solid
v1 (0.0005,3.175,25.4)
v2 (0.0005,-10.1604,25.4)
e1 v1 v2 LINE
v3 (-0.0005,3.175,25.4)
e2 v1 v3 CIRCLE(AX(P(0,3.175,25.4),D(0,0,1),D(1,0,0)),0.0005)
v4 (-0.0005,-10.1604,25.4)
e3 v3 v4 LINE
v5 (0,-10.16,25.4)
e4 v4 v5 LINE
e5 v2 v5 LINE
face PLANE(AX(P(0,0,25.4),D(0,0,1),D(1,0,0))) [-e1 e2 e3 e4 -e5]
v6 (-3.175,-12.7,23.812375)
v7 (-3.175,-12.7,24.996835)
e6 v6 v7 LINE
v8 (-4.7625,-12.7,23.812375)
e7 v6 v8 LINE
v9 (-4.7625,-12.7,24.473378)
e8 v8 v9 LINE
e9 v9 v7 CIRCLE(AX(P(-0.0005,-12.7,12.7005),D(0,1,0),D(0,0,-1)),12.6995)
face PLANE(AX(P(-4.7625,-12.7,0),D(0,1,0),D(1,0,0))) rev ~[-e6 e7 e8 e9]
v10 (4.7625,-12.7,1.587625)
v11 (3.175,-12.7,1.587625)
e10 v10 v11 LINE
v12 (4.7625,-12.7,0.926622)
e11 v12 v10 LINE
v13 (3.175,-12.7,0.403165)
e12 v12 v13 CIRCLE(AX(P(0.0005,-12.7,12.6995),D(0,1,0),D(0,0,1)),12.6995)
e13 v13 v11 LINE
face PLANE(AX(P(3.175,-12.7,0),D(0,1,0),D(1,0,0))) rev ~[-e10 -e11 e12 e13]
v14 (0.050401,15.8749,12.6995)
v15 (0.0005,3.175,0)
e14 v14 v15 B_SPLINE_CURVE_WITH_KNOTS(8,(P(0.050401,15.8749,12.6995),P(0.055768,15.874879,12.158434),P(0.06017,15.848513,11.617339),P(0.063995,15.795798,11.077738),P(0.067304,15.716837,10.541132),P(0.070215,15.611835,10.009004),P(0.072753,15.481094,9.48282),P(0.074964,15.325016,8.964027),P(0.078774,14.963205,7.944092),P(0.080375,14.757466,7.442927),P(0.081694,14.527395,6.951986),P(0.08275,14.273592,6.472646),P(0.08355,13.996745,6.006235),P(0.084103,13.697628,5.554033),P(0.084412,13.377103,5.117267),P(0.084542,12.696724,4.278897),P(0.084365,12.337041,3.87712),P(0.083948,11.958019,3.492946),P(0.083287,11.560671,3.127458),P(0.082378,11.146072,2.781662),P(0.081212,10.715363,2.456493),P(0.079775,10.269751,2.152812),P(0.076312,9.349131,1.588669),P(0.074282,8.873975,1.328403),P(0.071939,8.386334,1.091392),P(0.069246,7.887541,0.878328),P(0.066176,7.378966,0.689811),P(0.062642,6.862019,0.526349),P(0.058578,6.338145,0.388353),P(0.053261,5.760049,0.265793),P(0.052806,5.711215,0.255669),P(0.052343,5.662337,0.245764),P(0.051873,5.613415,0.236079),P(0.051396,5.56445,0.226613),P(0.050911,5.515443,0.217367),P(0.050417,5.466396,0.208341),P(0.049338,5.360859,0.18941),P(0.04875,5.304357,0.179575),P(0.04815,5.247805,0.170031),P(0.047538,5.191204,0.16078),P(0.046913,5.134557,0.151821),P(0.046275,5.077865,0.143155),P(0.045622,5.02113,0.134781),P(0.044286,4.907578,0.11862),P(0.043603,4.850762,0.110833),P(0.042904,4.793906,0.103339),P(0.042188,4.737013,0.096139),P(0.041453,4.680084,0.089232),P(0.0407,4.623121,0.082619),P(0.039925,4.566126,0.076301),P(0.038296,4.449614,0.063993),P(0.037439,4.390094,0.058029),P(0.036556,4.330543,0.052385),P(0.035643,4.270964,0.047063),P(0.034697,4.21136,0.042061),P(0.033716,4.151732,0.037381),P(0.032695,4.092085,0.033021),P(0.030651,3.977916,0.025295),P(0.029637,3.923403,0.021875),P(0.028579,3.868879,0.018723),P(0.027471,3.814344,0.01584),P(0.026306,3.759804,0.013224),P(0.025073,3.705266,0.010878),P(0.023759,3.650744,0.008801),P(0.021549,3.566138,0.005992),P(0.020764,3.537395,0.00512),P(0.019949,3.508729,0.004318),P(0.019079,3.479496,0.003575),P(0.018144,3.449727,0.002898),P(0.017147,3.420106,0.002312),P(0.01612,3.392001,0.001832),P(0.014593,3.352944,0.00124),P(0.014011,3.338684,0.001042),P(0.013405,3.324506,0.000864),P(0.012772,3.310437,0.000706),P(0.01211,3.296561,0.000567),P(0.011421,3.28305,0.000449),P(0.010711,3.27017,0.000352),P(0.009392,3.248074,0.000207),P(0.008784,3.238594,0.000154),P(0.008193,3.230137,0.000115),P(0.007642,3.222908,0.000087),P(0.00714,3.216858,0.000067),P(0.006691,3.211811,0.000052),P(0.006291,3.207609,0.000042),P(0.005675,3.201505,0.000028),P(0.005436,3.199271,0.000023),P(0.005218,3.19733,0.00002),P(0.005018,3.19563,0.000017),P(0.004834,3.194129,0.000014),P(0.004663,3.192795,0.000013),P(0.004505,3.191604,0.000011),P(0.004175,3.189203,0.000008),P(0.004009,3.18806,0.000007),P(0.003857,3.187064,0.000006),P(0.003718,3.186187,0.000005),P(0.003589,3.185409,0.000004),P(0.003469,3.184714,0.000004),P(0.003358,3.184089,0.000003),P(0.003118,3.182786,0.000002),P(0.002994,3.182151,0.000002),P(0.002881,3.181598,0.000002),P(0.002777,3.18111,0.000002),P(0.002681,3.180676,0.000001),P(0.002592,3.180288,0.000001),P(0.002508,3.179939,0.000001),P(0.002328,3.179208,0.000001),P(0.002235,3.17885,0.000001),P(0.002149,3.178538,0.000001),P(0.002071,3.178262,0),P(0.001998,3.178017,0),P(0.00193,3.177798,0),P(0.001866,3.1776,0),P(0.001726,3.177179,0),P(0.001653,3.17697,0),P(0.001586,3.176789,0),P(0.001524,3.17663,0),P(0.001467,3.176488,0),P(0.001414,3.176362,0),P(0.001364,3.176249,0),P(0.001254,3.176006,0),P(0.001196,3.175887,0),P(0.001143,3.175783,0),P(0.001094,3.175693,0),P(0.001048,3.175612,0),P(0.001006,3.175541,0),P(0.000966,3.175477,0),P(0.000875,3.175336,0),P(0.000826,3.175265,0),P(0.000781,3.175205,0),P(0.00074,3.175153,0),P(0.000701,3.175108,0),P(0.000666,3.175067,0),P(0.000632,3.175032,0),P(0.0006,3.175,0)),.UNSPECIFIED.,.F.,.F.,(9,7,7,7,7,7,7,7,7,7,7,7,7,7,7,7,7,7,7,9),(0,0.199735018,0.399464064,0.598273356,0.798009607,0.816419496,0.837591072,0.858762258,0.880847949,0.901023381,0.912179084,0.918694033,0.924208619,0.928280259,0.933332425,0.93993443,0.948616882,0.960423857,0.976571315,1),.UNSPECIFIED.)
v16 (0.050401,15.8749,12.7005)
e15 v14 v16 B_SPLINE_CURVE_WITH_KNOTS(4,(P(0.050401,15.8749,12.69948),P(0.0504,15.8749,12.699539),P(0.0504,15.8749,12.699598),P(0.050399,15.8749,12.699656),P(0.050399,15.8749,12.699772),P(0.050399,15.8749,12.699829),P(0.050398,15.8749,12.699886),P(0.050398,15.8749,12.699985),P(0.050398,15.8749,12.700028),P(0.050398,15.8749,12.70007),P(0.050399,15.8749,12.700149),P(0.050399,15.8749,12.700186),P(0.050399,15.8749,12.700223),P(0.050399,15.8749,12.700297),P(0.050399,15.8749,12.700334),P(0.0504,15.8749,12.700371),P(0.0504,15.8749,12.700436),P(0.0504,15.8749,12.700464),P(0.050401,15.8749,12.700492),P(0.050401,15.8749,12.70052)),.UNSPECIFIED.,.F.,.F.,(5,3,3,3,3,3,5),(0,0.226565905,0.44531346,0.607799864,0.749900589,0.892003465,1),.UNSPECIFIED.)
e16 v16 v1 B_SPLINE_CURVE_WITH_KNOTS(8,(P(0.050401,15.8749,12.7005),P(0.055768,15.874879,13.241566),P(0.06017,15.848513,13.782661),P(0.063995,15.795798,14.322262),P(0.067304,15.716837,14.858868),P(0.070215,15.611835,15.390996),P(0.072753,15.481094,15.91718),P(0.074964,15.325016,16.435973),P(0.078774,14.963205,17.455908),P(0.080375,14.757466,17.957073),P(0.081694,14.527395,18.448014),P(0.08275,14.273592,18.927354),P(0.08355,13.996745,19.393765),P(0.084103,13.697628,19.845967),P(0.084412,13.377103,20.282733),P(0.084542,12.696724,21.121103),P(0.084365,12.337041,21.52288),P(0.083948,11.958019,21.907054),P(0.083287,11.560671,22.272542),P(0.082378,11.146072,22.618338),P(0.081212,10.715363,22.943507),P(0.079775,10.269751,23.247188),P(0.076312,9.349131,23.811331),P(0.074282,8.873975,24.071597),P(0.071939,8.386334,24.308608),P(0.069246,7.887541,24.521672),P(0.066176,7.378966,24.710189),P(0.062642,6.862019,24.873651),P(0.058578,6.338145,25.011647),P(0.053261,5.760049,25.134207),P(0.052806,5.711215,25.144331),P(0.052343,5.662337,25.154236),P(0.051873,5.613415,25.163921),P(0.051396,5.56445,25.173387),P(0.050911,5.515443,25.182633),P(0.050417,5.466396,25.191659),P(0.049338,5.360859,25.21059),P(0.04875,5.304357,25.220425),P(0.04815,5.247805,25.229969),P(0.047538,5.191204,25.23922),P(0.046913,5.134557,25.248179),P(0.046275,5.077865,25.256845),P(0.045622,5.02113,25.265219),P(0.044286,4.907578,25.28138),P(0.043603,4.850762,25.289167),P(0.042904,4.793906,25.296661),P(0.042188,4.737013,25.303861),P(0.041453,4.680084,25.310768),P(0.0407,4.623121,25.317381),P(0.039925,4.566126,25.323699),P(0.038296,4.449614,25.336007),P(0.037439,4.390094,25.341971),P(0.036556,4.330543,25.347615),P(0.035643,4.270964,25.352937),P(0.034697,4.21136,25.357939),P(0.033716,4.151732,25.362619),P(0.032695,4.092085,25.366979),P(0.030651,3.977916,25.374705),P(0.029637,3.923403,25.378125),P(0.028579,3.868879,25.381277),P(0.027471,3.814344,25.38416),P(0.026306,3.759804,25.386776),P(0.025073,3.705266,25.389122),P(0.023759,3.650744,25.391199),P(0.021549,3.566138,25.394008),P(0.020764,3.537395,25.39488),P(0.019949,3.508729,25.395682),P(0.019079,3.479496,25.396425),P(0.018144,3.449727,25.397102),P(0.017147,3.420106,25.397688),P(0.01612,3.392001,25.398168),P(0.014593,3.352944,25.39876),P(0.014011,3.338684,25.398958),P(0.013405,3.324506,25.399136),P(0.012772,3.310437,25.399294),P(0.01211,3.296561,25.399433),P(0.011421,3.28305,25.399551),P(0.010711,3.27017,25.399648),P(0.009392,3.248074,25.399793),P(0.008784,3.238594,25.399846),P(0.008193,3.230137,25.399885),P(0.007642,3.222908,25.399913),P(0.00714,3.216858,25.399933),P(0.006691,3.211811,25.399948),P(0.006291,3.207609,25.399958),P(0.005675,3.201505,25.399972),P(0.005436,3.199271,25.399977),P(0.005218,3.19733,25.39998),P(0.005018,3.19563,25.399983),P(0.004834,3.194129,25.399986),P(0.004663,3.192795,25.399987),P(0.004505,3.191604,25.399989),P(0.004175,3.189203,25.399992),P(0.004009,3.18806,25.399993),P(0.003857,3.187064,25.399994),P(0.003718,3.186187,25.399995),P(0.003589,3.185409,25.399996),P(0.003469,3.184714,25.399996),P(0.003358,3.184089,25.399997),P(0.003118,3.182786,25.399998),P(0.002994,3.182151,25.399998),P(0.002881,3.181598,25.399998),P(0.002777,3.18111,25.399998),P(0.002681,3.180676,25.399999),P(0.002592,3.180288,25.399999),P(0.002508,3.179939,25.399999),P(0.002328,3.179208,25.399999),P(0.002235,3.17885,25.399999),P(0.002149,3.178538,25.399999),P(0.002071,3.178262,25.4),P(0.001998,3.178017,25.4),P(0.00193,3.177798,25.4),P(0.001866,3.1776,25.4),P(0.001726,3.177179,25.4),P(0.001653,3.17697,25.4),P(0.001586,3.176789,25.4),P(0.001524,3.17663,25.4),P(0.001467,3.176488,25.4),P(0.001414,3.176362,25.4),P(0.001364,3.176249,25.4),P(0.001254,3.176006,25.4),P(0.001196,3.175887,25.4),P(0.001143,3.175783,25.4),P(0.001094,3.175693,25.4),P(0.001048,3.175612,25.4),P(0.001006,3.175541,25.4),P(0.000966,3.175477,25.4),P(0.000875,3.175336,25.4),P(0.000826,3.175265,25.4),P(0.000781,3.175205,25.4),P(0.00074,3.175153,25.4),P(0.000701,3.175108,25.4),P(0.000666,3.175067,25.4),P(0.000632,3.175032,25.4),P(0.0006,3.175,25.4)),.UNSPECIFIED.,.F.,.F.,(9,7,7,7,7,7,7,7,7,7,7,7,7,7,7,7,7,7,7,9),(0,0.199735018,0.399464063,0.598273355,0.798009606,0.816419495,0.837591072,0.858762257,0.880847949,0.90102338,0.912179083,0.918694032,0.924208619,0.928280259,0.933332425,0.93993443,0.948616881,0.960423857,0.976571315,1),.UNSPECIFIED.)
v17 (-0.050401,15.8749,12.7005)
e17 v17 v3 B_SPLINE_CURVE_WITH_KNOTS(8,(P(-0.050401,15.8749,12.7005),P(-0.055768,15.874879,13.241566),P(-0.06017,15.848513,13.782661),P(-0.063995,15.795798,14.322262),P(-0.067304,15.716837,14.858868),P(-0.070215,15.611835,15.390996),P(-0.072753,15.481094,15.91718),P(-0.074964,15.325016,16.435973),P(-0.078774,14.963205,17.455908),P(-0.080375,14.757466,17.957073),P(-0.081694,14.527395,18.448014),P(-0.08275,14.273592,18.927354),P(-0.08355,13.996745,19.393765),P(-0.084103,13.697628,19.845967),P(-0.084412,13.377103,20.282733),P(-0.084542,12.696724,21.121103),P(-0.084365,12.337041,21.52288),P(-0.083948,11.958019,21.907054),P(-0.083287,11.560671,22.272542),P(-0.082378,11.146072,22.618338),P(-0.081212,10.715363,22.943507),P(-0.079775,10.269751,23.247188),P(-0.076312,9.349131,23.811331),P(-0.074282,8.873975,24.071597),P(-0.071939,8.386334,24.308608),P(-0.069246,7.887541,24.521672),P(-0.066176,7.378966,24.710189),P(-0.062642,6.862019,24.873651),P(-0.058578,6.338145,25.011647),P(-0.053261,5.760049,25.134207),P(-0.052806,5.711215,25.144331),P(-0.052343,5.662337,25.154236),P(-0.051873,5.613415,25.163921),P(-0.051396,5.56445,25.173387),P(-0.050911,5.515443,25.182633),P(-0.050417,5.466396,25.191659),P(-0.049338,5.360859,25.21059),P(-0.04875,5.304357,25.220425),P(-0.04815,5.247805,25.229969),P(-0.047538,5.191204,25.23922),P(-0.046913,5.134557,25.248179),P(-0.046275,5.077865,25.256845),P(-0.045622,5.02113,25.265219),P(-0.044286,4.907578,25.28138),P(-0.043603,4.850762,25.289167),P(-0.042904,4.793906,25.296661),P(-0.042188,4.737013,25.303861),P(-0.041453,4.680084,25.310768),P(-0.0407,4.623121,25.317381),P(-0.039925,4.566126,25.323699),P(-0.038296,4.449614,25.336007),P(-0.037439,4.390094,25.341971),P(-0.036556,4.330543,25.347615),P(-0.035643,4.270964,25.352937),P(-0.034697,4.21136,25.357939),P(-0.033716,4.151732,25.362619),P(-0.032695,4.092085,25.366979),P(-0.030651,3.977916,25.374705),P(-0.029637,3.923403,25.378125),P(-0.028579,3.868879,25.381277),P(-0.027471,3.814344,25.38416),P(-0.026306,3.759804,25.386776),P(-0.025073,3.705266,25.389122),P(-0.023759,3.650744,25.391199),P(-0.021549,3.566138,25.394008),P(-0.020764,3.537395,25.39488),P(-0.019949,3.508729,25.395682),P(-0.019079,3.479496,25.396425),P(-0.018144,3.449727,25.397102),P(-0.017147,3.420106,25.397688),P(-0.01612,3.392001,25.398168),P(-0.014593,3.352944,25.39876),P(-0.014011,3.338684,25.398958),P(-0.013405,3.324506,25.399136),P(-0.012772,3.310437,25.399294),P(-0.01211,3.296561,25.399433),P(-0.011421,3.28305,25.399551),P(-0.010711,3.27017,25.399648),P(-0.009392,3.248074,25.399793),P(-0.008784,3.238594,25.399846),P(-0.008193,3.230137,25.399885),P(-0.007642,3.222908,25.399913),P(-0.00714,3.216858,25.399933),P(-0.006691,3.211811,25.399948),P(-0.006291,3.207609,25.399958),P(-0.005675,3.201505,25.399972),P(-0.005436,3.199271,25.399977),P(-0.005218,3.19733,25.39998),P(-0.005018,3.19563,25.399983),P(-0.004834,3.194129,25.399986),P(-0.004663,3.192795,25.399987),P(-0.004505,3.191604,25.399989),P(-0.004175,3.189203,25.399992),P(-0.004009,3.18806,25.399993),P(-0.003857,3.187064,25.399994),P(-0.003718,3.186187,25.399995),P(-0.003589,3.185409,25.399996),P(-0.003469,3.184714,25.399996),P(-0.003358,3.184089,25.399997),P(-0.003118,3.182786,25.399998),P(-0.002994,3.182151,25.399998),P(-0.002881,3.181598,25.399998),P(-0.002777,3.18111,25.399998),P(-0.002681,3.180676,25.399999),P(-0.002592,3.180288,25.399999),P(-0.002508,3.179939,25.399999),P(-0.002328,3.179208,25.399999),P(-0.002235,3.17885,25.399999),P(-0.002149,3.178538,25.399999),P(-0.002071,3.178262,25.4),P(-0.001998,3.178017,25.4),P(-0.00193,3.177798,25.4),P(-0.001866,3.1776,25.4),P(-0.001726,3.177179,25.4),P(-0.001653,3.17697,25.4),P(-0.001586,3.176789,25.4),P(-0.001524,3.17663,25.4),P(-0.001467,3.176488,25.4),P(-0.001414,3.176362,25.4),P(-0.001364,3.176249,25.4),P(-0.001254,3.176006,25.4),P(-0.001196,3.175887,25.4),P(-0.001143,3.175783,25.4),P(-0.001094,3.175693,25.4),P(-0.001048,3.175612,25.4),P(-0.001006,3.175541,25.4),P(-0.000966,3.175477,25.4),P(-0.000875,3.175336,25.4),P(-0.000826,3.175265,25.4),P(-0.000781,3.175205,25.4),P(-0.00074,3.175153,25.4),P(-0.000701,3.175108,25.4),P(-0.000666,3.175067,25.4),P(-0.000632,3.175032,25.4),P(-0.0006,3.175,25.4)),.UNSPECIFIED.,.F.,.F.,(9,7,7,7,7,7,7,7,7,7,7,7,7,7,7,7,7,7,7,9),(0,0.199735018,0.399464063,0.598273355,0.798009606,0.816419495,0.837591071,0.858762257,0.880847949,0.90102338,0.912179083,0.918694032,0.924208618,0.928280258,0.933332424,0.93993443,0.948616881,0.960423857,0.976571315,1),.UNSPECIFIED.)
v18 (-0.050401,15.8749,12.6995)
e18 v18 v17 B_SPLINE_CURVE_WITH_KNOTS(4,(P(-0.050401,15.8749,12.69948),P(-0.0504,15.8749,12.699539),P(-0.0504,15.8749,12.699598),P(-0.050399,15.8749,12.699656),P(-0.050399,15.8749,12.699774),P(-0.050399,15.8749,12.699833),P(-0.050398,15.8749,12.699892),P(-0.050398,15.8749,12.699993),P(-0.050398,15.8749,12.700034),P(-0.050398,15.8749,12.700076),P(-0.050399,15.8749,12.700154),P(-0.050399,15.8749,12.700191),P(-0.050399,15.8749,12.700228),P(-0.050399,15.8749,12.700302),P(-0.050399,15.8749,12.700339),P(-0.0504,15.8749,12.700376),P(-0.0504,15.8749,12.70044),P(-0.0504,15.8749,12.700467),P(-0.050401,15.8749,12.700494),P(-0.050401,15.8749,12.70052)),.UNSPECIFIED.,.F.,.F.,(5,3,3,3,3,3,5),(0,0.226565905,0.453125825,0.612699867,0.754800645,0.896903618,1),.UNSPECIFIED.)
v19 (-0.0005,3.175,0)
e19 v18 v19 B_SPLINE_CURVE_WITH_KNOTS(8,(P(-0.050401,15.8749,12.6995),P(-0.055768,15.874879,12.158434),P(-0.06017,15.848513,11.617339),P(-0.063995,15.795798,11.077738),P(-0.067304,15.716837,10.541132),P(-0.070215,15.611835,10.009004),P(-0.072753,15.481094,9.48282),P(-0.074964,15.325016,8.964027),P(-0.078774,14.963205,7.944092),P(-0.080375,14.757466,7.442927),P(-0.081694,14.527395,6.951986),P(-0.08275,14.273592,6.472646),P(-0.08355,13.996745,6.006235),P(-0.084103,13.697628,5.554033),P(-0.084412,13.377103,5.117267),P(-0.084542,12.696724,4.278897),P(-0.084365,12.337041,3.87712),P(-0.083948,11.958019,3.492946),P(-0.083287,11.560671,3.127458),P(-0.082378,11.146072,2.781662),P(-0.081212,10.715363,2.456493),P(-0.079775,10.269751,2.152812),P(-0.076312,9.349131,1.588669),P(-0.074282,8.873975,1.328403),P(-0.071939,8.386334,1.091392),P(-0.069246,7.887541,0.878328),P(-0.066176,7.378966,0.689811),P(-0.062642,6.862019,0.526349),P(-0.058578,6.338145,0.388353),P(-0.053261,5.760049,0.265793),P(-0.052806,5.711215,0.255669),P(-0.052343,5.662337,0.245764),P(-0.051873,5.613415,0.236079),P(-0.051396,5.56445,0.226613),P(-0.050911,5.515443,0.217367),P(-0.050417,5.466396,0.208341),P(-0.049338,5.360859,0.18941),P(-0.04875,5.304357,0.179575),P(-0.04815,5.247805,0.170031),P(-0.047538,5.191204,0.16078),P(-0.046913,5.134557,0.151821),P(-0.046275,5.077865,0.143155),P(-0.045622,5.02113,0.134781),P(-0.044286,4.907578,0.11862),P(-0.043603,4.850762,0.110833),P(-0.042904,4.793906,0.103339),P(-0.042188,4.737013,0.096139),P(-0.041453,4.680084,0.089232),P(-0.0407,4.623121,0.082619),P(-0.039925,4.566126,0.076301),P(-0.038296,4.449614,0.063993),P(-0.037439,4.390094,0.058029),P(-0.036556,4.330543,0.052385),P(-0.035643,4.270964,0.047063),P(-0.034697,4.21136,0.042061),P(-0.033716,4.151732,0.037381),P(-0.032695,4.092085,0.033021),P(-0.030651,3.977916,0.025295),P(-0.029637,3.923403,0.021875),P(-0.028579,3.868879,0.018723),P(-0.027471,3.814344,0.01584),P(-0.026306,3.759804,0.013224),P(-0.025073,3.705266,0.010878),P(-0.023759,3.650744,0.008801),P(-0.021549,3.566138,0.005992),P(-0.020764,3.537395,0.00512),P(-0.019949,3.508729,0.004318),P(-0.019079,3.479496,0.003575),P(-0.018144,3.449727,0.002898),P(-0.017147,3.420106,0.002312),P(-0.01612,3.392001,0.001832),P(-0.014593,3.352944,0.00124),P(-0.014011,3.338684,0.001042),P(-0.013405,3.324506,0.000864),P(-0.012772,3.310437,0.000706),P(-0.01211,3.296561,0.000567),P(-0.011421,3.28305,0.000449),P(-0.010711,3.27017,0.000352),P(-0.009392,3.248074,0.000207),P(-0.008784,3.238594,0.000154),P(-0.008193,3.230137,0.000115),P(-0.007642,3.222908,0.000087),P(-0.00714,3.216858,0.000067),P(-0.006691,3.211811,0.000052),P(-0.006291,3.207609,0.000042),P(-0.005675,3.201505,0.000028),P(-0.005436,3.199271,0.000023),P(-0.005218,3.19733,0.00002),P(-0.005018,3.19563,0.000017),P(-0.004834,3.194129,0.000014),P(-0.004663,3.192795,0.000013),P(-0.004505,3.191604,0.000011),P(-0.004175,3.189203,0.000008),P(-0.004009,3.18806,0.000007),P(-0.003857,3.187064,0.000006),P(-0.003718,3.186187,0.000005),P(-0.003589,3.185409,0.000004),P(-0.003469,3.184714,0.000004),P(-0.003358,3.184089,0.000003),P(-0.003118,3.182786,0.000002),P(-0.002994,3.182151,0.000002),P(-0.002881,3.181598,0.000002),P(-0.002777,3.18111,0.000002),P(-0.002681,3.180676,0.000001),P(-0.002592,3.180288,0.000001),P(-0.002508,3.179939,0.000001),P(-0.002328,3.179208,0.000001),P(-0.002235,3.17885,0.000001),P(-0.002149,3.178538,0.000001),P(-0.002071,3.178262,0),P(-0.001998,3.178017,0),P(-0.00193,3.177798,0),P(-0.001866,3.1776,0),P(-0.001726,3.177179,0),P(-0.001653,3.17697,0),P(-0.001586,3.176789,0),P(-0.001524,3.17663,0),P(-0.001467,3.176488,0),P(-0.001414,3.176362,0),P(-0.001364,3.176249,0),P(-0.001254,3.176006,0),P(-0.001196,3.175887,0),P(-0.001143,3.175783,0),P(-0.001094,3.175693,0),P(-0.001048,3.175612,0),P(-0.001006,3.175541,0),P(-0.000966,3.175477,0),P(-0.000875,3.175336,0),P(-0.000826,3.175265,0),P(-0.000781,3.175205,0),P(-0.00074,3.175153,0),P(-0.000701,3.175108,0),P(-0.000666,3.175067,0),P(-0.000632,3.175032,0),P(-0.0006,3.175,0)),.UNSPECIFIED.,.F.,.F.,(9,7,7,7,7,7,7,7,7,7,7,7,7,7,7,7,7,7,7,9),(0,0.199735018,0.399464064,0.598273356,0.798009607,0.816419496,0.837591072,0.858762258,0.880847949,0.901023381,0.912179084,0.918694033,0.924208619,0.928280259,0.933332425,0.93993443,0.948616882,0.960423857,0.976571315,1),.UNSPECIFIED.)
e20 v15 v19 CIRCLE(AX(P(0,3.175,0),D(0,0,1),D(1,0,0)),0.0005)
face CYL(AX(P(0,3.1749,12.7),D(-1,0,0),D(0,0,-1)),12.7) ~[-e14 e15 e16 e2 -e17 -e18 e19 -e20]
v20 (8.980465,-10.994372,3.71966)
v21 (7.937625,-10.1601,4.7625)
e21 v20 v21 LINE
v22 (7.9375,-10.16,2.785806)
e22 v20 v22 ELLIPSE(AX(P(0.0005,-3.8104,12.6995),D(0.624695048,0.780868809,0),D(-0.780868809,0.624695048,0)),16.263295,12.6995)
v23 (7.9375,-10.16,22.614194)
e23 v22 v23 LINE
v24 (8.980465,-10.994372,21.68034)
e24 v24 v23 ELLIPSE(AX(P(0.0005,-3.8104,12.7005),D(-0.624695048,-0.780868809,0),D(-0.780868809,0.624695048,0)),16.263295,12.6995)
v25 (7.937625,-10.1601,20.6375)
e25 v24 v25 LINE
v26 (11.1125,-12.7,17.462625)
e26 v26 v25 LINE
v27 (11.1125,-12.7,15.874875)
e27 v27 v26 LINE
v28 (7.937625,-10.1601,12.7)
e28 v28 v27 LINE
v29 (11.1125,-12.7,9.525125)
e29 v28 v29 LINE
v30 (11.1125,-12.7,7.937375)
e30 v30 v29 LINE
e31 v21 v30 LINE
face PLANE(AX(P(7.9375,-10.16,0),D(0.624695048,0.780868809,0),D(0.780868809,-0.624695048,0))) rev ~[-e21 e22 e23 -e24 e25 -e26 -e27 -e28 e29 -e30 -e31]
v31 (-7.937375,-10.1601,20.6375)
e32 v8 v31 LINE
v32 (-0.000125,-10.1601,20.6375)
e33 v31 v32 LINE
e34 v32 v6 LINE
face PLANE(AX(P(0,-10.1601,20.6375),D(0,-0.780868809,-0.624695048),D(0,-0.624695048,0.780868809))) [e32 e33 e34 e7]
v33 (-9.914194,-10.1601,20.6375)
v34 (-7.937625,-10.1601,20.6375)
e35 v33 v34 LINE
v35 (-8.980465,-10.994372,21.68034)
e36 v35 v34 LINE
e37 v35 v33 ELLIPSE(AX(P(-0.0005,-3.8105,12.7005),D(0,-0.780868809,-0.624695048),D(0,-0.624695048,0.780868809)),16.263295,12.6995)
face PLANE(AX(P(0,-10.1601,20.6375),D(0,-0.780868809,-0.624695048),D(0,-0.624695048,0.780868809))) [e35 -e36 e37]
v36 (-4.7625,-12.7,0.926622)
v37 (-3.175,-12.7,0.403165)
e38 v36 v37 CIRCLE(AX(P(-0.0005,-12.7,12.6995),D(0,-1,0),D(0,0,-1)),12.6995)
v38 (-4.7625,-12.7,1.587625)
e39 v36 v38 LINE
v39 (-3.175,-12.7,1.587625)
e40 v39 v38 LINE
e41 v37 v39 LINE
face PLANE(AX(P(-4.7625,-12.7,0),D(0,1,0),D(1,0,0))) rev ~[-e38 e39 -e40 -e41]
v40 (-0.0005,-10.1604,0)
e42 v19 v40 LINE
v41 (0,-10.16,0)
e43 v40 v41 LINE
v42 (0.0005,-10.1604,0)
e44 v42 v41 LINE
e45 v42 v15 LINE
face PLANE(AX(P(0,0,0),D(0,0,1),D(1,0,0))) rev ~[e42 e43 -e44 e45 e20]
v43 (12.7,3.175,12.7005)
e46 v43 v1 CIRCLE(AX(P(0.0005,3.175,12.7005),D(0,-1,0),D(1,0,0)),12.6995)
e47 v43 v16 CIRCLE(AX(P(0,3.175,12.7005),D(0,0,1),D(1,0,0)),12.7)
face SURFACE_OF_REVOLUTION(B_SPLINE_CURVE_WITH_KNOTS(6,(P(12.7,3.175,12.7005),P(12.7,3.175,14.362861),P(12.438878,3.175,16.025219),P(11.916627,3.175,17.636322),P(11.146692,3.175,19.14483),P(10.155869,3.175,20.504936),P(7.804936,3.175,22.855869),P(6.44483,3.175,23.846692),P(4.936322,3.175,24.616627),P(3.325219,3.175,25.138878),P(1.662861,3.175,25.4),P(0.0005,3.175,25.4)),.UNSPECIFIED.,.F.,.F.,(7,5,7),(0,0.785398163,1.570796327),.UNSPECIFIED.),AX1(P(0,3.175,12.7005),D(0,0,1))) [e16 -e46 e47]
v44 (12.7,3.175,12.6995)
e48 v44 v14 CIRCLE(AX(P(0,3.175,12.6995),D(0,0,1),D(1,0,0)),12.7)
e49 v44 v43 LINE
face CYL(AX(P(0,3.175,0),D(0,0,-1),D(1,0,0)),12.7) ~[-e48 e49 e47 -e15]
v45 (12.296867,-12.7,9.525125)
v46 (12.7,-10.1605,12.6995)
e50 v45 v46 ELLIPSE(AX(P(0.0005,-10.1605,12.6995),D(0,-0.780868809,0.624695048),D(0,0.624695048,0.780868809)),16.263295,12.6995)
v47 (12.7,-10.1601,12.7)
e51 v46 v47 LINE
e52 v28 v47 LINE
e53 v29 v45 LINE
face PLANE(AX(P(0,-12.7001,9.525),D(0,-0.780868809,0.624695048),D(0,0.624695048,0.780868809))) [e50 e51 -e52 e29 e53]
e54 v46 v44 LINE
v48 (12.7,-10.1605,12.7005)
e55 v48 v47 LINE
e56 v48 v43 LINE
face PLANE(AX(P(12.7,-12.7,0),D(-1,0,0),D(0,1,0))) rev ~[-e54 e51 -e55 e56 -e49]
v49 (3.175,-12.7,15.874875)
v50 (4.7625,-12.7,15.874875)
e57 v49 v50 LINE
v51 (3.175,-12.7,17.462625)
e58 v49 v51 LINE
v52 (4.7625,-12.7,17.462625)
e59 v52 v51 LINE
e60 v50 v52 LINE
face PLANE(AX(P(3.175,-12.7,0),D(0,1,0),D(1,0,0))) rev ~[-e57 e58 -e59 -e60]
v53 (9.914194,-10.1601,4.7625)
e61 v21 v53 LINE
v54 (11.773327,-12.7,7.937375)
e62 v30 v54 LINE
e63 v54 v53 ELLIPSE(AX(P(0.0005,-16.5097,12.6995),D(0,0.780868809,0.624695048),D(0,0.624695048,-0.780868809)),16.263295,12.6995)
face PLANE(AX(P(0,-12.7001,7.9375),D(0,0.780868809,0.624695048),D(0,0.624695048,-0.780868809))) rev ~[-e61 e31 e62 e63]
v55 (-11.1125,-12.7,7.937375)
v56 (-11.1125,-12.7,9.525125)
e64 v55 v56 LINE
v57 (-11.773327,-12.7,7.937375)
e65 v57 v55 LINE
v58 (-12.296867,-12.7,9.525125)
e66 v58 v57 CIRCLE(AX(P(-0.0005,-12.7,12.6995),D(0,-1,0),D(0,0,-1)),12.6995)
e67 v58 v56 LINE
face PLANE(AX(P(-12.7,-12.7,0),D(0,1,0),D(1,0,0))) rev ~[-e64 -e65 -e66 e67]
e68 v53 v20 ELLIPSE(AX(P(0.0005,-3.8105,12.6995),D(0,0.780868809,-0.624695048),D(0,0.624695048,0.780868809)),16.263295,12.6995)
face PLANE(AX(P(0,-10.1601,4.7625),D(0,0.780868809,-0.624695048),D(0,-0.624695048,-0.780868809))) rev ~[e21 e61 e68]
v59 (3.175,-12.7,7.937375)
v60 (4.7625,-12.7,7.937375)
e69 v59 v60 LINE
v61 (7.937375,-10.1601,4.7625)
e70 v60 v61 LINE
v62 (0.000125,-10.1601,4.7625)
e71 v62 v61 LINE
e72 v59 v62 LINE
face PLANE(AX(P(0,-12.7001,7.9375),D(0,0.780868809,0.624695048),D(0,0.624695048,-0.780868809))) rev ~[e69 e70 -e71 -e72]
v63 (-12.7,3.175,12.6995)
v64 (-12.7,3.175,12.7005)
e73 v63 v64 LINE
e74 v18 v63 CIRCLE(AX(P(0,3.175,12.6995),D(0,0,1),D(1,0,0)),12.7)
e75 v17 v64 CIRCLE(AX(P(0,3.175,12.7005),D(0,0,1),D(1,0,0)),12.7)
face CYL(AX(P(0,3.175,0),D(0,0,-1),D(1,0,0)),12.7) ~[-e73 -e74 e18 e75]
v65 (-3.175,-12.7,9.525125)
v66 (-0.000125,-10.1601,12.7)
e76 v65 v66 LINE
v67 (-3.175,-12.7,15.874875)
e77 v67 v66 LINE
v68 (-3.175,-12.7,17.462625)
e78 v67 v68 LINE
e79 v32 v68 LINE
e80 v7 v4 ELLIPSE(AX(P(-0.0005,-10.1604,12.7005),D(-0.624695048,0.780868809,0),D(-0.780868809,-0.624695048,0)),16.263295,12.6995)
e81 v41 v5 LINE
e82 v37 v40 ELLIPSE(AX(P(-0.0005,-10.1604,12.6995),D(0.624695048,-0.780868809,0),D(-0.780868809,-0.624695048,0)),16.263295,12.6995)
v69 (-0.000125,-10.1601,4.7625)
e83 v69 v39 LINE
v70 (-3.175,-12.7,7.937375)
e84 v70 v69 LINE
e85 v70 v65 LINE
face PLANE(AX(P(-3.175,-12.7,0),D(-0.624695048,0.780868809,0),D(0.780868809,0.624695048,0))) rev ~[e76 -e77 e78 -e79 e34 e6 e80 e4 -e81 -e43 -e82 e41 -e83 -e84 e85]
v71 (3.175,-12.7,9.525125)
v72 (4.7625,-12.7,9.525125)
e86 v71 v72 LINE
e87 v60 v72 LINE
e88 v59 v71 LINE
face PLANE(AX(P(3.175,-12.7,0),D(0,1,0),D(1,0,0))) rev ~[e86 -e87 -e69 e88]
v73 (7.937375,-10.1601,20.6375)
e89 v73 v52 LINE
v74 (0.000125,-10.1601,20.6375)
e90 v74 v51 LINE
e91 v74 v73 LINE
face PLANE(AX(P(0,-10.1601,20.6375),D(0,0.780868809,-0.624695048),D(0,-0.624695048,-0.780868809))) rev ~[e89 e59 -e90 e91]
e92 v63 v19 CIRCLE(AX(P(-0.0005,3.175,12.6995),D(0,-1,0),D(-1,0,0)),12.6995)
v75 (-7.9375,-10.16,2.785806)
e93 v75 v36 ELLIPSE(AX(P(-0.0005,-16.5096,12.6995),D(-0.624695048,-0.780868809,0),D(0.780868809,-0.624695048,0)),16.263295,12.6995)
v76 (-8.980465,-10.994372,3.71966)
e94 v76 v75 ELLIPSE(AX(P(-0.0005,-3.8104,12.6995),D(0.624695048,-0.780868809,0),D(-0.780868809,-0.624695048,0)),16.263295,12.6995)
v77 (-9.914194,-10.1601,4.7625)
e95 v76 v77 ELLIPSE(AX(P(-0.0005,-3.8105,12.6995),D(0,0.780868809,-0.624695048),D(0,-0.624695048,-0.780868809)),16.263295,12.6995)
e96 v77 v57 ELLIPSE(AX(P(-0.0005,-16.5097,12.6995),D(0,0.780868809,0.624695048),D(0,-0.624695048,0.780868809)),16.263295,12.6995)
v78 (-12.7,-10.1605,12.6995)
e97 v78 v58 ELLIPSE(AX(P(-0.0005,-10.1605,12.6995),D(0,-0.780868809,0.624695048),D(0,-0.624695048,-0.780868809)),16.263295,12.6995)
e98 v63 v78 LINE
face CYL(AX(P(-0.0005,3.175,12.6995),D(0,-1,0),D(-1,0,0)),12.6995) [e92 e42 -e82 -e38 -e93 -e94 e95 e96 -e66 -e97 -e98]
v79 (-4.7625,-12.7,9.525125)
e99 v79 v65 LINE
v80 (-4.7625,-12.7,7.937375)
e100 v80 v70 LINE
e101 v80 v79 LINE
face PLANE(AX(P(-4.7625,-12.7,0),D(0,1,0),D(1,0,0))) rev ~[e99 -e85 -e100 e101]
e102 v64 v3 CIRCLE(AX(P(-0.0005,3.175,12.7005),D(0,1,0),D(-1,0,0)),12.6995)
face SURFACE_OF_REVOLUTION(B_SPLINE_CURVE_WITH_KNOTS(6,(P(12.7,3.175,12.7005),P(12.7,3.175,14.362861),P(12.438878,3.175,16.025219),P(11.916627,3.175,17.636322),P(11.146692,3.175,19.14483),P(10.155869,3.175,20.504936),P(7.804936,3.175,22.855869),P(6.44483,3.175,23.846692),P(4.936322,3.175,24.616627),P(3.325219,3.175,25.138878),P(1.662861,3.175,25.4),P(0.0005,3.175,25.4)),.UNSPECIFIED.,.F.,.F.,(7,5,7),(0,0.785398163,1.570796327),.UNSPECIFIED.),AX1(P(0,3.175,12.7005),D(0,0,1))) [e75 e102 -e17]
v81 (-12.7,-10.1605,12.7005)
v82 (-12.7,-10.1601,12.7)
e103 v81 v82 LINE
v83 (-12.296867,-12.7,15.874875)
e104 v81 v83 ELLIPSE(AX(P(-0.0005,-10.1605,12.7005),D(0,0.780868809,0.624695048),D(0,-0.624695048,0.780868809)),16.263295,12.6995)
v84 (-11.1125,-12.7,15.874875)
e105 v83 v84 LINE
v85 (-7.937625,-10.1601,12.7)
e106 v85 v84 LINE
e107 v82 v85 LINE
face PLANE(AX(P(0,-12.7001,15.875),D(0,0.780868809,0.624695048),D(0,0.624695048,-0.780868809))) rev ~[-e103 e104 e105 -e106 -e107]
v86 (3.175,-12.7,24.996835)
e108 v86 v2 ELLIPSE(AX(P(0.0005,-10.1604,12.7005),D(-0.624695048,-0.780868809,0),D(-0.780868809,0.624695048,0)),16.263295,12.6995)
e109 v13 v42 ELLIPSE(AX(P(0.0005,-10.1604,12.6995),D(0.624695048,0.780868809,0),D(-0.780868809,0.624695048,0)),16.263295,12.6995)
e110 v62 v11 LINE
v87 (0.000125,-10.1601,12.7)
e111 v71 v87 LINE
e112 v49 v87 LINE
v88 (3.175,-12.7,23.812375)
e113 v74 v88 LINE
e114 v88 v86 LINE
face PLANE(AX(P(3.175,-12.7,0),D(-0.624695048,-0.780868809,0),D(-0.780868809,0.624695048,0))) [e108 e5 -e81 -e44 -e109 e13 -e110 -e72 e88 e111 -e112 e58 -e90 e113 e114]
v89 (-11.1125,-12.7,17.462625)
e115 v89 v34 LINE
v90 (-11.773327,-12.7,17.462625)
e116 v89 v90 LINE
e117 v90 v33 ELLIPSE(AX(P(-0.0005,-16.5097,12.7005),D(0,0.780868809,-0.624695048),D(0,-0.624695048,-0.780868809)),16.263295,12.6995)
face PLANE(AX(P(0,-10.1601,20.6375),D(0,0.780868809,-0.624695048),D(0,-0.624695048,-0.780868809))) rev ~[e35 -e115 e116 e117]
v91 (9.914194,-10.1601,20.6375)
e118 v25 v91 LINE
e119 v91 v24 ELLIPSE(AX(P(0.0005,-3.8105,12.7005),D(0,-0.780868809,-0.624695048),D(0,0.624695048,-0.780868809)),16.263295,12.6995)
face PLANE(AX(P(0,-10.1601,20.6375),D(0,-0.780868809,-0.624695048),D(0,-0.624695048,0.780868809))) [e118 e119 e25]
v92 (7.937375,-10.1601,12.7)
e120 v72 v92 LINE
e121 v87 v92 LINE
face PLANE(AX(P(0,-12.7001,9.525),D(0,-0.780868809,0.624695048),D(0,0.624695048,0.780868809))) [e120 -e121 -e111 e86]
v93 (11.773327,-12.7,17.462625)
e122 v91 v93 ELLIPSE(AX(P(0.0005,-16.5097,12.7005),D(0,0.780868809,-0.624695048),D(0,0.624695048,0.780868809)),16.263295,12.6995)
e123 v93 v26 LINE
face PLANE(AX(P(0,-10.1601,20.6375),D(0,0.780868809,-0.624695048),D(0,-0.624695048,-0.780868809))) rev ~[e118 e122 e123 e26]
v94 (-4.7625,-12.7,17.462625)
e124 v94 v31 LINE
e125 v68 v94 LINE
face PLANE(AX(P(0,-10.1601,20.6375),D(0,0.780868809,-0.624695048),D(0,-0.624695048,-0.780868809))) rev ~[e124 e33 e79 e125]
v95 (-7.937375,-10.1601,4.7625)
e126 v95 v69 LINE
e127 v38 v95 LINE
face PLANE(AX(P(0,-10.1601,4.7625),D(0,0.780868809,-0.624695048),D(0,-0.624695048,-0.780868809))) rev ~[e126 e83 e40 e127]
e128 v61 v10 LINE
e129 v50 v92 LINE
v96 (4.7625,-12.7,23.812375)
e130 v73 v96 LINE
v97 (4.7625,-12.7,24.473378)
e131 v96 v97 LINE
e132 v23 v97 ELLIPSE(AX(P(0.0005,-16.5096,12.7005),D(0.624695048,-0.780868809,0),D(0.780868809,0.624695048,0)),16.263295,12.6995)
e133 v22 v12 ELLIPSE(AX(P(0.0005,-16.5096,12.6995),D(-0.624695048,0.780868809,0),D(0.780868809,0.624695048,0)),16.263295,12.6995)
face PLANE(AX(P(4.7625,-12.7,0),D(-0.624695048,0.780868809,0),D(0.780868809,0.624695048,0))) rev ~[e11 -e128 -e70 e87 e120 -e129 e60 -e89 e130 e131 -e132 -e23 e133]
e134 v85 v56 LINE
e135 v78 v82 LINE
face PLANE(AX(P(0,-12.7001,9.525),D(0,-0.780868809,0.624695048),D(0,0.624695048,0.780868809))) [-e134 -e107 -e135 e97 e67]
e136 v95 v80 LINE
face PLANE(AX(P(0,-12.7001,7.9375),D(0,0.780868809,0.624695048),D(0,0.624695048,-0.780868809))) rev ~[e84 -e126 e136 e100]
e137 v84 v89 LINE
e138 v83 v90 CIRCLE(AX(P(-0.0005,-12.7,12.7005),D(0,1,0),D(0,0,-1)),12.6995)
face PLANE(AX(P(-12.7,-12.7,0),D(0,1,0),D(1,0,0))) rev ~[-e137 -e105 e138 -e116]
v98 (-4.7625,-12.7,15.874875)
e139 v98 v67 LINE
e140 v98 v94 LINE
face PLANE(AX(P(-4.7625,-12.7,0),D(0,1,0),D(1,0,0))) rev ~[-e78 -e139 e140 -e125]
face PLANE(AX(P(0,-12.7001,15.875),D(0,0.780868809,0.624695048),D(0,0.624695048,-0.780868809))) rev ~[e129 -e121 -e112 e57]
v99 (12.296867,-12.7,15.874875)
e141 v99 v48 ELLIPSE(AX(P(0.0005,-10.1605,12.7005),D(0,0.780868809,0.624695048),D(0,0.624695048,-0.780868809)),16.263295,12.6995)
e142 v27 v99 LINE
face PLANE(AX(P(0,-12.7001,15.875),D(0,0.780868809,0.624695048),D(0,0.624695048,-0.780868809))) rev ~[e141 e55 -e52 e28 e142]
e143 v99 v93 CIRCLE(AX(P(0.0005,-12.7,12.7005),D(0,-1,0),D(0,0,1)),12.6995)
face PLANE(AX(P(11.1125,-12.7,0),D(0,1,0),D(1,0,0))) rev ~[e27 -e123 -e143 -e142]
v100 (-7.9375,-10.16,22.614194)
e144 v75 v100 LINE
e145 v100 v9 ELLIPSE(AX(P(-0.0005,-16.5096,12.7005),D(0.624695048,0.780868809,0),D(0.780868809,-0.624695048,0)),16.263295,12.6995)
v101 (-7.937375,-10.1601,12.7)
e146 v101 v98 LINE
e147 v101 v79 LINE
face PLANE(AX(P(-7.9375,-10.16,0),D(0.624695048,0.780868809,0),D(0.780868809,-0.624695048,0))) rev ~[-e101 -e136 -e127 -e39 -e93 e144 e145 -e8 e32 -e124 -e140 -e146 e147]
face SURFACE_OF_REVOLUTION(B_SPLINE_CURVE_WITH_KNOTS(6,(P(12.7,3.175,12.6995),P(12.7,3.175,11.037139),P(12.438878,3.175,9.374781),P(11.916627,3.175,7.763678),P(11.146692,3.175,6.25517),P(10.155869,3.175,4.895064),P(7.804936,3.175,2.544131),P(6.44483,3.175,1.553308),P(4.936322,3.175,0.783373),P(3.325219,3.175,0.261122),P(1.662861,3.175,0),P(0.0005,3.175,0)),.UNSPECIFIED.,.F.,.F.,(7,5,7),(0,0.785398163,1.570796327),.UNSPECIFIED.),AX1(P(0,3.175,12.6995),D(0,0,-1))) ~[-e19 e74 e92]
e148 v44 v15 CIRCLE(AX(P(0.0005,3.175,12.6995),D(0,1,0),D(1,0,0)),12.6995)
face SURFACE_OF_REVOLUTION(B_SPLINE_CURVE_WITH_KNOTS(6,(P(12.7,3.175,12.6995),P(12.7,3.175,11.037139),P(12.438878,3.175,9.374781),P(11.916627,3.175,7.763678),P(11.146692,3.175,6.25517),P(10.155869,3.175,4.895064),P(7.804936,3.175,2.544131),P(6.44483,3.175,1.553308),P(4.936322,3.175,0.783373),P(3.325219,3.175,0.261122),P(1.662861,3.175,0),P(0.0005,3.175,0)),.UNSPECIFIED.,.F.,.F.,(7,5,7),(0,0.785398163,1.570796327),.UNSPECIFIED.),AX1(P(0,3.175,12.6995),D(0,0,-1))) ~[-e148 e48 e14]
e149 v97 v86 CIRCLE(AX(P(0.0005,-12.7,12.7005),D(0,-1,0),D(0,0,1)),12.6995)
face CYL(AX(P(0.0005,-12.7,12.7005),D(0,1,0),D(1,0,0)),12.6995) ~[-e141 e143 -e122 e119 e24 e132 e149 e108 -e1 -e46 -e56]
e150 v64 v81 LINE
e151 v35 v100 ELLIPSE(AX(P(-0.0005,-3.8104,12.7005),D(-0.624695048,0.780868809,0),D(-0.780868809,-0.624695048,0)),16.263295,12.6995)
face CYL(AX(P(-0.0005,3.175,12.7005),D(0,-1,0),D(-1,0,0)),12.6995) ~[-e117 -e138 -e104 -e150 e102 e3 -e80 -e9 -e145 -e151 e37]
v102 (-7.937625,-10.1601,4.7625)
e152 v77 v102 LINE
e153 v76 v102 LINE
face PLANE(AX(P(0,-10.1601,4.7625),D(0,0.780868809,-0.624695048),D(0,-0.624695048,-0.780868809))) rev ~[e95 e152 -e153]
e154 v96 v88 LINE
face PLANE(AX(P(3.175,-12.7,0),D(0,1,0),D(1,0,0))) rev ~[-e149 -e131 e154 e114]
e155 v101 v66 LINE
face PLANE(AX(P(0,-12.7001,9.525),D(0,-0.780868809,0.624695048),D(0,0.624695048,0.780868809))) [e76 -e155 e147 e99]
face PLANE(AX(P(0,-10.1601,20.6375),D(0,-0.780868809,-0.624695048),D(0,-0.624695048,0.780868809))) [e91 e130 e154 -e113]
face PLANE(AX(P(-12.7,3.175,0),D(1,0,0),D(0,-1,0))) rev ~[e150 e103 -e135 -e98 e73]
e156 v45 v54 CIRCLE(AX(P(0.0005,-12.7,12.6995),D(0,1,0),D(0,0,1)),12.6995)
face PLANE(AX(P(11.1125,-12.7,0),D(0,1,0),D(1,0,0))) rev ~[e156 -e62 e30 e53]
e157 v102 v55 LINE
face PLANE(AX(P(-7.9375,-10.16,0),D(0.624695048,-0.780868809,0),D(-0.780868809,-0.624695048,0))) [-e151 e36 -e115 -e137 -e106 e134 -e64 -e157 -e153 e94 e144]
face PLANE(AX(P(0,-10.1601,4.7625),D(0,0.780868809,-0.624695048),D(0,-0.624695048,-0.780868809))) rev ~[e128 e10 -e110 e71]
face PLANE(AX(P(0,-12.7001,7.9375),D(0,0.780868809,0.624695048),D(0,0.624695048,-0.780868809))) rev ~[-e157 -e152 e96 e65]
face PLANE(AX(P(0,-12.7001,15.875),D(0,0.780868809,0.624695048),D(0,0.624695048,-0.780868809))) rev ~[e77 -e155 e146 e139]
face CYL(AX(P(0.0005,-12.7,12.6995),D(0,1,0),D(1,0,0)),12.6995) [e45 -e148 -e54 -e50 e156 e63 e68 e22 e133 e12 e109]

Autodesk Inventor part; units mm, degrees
ref_plane "YZ Plane" through (0, 0, 0) normal (1, 0, 0) x (0, 1, 0)
ref_plane "XZ Plane" through (0, 0, 0) normal (0, 1, 0) x (-1, 0, 0)
ref_plane "XY Plane" through (0, 0, 0) normal (0, 0, 1) x (1, 0, 0)
sketch "Sketch1" plane through (0, 0, 0) normal (0, 0, 1) x (1, 0, 0)
  arc A0 (12.7, 3.175) -> (-12.7, 3.175) centre (0, 3.175) ccw
  line L0 (-12.7, 3.175) -> (-12.7, -12.7)
  line L1 (-12.7, -12.7) -> (12.7, -12.7)
  line L2 (12.7, -12.7) -> (12.7, 3.175)
  line L3 (-12.7, -12.7) -> (-11.1125, -12.7)
  line L4 (-11.1125, -12.7) -> (-7.9375, -12.7)
  line L5 (-7.9375, -12.7) -> (-7.9375, -10.16)
  line L6 (-7.9375, -10.16) -> (-11.1125, -12.7)
  line L7 (-7.9375, -10.16) -> (-4.7625, -12.7)
  line L8 (12.7, -12.7) -> (11.1125, -12.7)
  line L9 (11.1125, -12.7) -> (7.9375, -12.7)
  line L10 (7.9375, -12.7) -> (7.9375, -10.16)
  line L11 (7.9375, -10.16) -> (11.1125, -12.7)
  line L12 (7.9375, -12.7) -> (4.7625, -12.7)
  line L13 (4.7625, -12.7) -> (7.9375, -10.16)
  line L14 (0, -12.7) -> (0, -10.16)
  line L15 (0, -12.7) -> (3.175, -12.7)
  line L16 (3.175, -12.7) -> (0, -10.16)
  line L17 (0, -12.7) -> (-3.175, -12.7)
  line L18 (-3.175, -12.7) -> (0, -10.16)
  dimension "d5" = 25.4
  dimension "d6" = 15.875
  dimension "d7" = 25.4
  dimension "d8" = 1.5875
  dimension "d9" = 3.175
  dimension "d10" = 2.54
  dimension "d11" = 3.175
  dimension "d12" = 1.5875
  dimension "d13" = 3.175
  dimension "d14" = 2.54
  dimension "d15" = 3.175
  dimension "d16" = 2.54
  dimension "d17" = 3.175
  dimension "d18" = 3.175
extrude "Extrusion1" add sketch "Sketch1" along normal blind 25.4 contours L2 L1 L11 L13 L16 L18 L7 L6 L0 A0
fillet "Fillet1" radius 12.7 6 edges at (-12.7, -4.7625, 25.4) (12.7, -4.7625, 25.4) (0, 15.875, 25.4) (-12.7, -4.7625, 0) (12.7, -4.7625, 0) (0, 15.875, 0)
sketch "Sketch2" plane through (0, 0, 0) normal (1, 0, 0) x (0, 1, 0)
  arc A0 (3.1749, 0) -> (3.1749, 25.4) centre (3.1749, 12.7) ccw
  line L0 (3.1749, 25.4) -> (-12.7001, 25.4)
  line L1 (-12.7001, 25.4) -> (-12.7001, 0)
  line L2 (-12.7001, 0) -> (3.1749, 0)
  line L3 (-12.7001, 25.4) -> (-12.7001, 23.8125)
  line L4 (-12.7001, 23.8125) -> (-12.7001, 20.6375)
  line L5 (-12.7001, 20.6375) -> (-10.1601, 20.6375)
  line L6 (-10.1601, 20.6375) -> (-12.7001, 23.8125)
  line L7 (-10.1601, 20.6375) -> (-12.7001, 17.4625)
  line L8 (-12.7001, 0) -> (-12.7001, 1.5875)
  line L9 (-12.7001, 1.5875) -> (-12.7001, 4.7625)
  line L10 (-12.7001, 4.7625) -> (-10.1601, 4.7625)
  line L11 (-10.1601, 4.7625) -> (-12.7001, 1.5875)
  line L12 (-12.7001, 4.7625) -> (-12.7001, 7.9375)
  line L13 (-12.7001, 7.9375) -> (-10.1601, 4.7625)
  line L14 (-12.7001, 12.7) -> (-10.1601, 12.7)
  line L15 (-12.7001, 12.7) -> (-12.7001, 9.525)
  line L16 (-12.7001, 9.525) -> (-10.1601, 12.7)
  line L17 (-12.7001, 12.7) -> (-12.7001, 15.875)
  line L18 (-12.7001, 15.875) -> (-10.1601, 12.7)
  line L19 (3.175, 25.4) -> (3.175, 0) projected
  point P0 (0, 0)
  dimension "d22" = 25.4
  dimension "d23" = 15.875
  dimension "d24" = 25.4
  dimension "d25" = 1.5875
  dimension "d26" = 3.175
  dimension "d27" = 2.54
  dimension "d28" = 3.175
  dimension "d29" = 1.5875
  dimension "d30" = 3.175
  dimension "d31" = 2.54
  dimension "d32" = 3.175
  dimension "d33" = 2.54
  dimension "d34" = 3.175
  dimension "d35" = 3.175
extrude "Extrusion2" cut sketch "Sketch2" along normal mid plane 25.4 contours L19 A0 | L2 L1 L11 L13 L16 L18 L7 L6 L0 L19 keep common part
equation "\"d6\" = 0.625 * d5"
equation "\"d7\" = d5"
equation "\"d8\" = 0.0625 * d7"
equation "\"d9\" = 0.125 * d7"
equation "\"d11\" = d9"
equation "\"d12\" = d8"
equation "\"d13\" = d9"
equation "\"d14\" = d10"
equation "\"d15\" = d9"
equation "\"d16\" = d10"
equation "\"d17\" = d9"
equation "\"d18\" = d9"
equation "\"d23\" = 0.625 * d22"
equation "\"d24\" = d22"
equation "\"d25\" = 0.0625 * d24"
equation "\"d26\" = 0.125 * d24"
equation "\"d28\" = d26"
equation "\"d29\" = d25"
equation "\"d30\" = d26"
equation "\"d31\" = d27"
equation "\"d32\" = d26"
equation "\"d33\" = d27"
equation "\"d34\" = d26"
equation "\"d35\" = d26"
properties part number "Ghost1"
